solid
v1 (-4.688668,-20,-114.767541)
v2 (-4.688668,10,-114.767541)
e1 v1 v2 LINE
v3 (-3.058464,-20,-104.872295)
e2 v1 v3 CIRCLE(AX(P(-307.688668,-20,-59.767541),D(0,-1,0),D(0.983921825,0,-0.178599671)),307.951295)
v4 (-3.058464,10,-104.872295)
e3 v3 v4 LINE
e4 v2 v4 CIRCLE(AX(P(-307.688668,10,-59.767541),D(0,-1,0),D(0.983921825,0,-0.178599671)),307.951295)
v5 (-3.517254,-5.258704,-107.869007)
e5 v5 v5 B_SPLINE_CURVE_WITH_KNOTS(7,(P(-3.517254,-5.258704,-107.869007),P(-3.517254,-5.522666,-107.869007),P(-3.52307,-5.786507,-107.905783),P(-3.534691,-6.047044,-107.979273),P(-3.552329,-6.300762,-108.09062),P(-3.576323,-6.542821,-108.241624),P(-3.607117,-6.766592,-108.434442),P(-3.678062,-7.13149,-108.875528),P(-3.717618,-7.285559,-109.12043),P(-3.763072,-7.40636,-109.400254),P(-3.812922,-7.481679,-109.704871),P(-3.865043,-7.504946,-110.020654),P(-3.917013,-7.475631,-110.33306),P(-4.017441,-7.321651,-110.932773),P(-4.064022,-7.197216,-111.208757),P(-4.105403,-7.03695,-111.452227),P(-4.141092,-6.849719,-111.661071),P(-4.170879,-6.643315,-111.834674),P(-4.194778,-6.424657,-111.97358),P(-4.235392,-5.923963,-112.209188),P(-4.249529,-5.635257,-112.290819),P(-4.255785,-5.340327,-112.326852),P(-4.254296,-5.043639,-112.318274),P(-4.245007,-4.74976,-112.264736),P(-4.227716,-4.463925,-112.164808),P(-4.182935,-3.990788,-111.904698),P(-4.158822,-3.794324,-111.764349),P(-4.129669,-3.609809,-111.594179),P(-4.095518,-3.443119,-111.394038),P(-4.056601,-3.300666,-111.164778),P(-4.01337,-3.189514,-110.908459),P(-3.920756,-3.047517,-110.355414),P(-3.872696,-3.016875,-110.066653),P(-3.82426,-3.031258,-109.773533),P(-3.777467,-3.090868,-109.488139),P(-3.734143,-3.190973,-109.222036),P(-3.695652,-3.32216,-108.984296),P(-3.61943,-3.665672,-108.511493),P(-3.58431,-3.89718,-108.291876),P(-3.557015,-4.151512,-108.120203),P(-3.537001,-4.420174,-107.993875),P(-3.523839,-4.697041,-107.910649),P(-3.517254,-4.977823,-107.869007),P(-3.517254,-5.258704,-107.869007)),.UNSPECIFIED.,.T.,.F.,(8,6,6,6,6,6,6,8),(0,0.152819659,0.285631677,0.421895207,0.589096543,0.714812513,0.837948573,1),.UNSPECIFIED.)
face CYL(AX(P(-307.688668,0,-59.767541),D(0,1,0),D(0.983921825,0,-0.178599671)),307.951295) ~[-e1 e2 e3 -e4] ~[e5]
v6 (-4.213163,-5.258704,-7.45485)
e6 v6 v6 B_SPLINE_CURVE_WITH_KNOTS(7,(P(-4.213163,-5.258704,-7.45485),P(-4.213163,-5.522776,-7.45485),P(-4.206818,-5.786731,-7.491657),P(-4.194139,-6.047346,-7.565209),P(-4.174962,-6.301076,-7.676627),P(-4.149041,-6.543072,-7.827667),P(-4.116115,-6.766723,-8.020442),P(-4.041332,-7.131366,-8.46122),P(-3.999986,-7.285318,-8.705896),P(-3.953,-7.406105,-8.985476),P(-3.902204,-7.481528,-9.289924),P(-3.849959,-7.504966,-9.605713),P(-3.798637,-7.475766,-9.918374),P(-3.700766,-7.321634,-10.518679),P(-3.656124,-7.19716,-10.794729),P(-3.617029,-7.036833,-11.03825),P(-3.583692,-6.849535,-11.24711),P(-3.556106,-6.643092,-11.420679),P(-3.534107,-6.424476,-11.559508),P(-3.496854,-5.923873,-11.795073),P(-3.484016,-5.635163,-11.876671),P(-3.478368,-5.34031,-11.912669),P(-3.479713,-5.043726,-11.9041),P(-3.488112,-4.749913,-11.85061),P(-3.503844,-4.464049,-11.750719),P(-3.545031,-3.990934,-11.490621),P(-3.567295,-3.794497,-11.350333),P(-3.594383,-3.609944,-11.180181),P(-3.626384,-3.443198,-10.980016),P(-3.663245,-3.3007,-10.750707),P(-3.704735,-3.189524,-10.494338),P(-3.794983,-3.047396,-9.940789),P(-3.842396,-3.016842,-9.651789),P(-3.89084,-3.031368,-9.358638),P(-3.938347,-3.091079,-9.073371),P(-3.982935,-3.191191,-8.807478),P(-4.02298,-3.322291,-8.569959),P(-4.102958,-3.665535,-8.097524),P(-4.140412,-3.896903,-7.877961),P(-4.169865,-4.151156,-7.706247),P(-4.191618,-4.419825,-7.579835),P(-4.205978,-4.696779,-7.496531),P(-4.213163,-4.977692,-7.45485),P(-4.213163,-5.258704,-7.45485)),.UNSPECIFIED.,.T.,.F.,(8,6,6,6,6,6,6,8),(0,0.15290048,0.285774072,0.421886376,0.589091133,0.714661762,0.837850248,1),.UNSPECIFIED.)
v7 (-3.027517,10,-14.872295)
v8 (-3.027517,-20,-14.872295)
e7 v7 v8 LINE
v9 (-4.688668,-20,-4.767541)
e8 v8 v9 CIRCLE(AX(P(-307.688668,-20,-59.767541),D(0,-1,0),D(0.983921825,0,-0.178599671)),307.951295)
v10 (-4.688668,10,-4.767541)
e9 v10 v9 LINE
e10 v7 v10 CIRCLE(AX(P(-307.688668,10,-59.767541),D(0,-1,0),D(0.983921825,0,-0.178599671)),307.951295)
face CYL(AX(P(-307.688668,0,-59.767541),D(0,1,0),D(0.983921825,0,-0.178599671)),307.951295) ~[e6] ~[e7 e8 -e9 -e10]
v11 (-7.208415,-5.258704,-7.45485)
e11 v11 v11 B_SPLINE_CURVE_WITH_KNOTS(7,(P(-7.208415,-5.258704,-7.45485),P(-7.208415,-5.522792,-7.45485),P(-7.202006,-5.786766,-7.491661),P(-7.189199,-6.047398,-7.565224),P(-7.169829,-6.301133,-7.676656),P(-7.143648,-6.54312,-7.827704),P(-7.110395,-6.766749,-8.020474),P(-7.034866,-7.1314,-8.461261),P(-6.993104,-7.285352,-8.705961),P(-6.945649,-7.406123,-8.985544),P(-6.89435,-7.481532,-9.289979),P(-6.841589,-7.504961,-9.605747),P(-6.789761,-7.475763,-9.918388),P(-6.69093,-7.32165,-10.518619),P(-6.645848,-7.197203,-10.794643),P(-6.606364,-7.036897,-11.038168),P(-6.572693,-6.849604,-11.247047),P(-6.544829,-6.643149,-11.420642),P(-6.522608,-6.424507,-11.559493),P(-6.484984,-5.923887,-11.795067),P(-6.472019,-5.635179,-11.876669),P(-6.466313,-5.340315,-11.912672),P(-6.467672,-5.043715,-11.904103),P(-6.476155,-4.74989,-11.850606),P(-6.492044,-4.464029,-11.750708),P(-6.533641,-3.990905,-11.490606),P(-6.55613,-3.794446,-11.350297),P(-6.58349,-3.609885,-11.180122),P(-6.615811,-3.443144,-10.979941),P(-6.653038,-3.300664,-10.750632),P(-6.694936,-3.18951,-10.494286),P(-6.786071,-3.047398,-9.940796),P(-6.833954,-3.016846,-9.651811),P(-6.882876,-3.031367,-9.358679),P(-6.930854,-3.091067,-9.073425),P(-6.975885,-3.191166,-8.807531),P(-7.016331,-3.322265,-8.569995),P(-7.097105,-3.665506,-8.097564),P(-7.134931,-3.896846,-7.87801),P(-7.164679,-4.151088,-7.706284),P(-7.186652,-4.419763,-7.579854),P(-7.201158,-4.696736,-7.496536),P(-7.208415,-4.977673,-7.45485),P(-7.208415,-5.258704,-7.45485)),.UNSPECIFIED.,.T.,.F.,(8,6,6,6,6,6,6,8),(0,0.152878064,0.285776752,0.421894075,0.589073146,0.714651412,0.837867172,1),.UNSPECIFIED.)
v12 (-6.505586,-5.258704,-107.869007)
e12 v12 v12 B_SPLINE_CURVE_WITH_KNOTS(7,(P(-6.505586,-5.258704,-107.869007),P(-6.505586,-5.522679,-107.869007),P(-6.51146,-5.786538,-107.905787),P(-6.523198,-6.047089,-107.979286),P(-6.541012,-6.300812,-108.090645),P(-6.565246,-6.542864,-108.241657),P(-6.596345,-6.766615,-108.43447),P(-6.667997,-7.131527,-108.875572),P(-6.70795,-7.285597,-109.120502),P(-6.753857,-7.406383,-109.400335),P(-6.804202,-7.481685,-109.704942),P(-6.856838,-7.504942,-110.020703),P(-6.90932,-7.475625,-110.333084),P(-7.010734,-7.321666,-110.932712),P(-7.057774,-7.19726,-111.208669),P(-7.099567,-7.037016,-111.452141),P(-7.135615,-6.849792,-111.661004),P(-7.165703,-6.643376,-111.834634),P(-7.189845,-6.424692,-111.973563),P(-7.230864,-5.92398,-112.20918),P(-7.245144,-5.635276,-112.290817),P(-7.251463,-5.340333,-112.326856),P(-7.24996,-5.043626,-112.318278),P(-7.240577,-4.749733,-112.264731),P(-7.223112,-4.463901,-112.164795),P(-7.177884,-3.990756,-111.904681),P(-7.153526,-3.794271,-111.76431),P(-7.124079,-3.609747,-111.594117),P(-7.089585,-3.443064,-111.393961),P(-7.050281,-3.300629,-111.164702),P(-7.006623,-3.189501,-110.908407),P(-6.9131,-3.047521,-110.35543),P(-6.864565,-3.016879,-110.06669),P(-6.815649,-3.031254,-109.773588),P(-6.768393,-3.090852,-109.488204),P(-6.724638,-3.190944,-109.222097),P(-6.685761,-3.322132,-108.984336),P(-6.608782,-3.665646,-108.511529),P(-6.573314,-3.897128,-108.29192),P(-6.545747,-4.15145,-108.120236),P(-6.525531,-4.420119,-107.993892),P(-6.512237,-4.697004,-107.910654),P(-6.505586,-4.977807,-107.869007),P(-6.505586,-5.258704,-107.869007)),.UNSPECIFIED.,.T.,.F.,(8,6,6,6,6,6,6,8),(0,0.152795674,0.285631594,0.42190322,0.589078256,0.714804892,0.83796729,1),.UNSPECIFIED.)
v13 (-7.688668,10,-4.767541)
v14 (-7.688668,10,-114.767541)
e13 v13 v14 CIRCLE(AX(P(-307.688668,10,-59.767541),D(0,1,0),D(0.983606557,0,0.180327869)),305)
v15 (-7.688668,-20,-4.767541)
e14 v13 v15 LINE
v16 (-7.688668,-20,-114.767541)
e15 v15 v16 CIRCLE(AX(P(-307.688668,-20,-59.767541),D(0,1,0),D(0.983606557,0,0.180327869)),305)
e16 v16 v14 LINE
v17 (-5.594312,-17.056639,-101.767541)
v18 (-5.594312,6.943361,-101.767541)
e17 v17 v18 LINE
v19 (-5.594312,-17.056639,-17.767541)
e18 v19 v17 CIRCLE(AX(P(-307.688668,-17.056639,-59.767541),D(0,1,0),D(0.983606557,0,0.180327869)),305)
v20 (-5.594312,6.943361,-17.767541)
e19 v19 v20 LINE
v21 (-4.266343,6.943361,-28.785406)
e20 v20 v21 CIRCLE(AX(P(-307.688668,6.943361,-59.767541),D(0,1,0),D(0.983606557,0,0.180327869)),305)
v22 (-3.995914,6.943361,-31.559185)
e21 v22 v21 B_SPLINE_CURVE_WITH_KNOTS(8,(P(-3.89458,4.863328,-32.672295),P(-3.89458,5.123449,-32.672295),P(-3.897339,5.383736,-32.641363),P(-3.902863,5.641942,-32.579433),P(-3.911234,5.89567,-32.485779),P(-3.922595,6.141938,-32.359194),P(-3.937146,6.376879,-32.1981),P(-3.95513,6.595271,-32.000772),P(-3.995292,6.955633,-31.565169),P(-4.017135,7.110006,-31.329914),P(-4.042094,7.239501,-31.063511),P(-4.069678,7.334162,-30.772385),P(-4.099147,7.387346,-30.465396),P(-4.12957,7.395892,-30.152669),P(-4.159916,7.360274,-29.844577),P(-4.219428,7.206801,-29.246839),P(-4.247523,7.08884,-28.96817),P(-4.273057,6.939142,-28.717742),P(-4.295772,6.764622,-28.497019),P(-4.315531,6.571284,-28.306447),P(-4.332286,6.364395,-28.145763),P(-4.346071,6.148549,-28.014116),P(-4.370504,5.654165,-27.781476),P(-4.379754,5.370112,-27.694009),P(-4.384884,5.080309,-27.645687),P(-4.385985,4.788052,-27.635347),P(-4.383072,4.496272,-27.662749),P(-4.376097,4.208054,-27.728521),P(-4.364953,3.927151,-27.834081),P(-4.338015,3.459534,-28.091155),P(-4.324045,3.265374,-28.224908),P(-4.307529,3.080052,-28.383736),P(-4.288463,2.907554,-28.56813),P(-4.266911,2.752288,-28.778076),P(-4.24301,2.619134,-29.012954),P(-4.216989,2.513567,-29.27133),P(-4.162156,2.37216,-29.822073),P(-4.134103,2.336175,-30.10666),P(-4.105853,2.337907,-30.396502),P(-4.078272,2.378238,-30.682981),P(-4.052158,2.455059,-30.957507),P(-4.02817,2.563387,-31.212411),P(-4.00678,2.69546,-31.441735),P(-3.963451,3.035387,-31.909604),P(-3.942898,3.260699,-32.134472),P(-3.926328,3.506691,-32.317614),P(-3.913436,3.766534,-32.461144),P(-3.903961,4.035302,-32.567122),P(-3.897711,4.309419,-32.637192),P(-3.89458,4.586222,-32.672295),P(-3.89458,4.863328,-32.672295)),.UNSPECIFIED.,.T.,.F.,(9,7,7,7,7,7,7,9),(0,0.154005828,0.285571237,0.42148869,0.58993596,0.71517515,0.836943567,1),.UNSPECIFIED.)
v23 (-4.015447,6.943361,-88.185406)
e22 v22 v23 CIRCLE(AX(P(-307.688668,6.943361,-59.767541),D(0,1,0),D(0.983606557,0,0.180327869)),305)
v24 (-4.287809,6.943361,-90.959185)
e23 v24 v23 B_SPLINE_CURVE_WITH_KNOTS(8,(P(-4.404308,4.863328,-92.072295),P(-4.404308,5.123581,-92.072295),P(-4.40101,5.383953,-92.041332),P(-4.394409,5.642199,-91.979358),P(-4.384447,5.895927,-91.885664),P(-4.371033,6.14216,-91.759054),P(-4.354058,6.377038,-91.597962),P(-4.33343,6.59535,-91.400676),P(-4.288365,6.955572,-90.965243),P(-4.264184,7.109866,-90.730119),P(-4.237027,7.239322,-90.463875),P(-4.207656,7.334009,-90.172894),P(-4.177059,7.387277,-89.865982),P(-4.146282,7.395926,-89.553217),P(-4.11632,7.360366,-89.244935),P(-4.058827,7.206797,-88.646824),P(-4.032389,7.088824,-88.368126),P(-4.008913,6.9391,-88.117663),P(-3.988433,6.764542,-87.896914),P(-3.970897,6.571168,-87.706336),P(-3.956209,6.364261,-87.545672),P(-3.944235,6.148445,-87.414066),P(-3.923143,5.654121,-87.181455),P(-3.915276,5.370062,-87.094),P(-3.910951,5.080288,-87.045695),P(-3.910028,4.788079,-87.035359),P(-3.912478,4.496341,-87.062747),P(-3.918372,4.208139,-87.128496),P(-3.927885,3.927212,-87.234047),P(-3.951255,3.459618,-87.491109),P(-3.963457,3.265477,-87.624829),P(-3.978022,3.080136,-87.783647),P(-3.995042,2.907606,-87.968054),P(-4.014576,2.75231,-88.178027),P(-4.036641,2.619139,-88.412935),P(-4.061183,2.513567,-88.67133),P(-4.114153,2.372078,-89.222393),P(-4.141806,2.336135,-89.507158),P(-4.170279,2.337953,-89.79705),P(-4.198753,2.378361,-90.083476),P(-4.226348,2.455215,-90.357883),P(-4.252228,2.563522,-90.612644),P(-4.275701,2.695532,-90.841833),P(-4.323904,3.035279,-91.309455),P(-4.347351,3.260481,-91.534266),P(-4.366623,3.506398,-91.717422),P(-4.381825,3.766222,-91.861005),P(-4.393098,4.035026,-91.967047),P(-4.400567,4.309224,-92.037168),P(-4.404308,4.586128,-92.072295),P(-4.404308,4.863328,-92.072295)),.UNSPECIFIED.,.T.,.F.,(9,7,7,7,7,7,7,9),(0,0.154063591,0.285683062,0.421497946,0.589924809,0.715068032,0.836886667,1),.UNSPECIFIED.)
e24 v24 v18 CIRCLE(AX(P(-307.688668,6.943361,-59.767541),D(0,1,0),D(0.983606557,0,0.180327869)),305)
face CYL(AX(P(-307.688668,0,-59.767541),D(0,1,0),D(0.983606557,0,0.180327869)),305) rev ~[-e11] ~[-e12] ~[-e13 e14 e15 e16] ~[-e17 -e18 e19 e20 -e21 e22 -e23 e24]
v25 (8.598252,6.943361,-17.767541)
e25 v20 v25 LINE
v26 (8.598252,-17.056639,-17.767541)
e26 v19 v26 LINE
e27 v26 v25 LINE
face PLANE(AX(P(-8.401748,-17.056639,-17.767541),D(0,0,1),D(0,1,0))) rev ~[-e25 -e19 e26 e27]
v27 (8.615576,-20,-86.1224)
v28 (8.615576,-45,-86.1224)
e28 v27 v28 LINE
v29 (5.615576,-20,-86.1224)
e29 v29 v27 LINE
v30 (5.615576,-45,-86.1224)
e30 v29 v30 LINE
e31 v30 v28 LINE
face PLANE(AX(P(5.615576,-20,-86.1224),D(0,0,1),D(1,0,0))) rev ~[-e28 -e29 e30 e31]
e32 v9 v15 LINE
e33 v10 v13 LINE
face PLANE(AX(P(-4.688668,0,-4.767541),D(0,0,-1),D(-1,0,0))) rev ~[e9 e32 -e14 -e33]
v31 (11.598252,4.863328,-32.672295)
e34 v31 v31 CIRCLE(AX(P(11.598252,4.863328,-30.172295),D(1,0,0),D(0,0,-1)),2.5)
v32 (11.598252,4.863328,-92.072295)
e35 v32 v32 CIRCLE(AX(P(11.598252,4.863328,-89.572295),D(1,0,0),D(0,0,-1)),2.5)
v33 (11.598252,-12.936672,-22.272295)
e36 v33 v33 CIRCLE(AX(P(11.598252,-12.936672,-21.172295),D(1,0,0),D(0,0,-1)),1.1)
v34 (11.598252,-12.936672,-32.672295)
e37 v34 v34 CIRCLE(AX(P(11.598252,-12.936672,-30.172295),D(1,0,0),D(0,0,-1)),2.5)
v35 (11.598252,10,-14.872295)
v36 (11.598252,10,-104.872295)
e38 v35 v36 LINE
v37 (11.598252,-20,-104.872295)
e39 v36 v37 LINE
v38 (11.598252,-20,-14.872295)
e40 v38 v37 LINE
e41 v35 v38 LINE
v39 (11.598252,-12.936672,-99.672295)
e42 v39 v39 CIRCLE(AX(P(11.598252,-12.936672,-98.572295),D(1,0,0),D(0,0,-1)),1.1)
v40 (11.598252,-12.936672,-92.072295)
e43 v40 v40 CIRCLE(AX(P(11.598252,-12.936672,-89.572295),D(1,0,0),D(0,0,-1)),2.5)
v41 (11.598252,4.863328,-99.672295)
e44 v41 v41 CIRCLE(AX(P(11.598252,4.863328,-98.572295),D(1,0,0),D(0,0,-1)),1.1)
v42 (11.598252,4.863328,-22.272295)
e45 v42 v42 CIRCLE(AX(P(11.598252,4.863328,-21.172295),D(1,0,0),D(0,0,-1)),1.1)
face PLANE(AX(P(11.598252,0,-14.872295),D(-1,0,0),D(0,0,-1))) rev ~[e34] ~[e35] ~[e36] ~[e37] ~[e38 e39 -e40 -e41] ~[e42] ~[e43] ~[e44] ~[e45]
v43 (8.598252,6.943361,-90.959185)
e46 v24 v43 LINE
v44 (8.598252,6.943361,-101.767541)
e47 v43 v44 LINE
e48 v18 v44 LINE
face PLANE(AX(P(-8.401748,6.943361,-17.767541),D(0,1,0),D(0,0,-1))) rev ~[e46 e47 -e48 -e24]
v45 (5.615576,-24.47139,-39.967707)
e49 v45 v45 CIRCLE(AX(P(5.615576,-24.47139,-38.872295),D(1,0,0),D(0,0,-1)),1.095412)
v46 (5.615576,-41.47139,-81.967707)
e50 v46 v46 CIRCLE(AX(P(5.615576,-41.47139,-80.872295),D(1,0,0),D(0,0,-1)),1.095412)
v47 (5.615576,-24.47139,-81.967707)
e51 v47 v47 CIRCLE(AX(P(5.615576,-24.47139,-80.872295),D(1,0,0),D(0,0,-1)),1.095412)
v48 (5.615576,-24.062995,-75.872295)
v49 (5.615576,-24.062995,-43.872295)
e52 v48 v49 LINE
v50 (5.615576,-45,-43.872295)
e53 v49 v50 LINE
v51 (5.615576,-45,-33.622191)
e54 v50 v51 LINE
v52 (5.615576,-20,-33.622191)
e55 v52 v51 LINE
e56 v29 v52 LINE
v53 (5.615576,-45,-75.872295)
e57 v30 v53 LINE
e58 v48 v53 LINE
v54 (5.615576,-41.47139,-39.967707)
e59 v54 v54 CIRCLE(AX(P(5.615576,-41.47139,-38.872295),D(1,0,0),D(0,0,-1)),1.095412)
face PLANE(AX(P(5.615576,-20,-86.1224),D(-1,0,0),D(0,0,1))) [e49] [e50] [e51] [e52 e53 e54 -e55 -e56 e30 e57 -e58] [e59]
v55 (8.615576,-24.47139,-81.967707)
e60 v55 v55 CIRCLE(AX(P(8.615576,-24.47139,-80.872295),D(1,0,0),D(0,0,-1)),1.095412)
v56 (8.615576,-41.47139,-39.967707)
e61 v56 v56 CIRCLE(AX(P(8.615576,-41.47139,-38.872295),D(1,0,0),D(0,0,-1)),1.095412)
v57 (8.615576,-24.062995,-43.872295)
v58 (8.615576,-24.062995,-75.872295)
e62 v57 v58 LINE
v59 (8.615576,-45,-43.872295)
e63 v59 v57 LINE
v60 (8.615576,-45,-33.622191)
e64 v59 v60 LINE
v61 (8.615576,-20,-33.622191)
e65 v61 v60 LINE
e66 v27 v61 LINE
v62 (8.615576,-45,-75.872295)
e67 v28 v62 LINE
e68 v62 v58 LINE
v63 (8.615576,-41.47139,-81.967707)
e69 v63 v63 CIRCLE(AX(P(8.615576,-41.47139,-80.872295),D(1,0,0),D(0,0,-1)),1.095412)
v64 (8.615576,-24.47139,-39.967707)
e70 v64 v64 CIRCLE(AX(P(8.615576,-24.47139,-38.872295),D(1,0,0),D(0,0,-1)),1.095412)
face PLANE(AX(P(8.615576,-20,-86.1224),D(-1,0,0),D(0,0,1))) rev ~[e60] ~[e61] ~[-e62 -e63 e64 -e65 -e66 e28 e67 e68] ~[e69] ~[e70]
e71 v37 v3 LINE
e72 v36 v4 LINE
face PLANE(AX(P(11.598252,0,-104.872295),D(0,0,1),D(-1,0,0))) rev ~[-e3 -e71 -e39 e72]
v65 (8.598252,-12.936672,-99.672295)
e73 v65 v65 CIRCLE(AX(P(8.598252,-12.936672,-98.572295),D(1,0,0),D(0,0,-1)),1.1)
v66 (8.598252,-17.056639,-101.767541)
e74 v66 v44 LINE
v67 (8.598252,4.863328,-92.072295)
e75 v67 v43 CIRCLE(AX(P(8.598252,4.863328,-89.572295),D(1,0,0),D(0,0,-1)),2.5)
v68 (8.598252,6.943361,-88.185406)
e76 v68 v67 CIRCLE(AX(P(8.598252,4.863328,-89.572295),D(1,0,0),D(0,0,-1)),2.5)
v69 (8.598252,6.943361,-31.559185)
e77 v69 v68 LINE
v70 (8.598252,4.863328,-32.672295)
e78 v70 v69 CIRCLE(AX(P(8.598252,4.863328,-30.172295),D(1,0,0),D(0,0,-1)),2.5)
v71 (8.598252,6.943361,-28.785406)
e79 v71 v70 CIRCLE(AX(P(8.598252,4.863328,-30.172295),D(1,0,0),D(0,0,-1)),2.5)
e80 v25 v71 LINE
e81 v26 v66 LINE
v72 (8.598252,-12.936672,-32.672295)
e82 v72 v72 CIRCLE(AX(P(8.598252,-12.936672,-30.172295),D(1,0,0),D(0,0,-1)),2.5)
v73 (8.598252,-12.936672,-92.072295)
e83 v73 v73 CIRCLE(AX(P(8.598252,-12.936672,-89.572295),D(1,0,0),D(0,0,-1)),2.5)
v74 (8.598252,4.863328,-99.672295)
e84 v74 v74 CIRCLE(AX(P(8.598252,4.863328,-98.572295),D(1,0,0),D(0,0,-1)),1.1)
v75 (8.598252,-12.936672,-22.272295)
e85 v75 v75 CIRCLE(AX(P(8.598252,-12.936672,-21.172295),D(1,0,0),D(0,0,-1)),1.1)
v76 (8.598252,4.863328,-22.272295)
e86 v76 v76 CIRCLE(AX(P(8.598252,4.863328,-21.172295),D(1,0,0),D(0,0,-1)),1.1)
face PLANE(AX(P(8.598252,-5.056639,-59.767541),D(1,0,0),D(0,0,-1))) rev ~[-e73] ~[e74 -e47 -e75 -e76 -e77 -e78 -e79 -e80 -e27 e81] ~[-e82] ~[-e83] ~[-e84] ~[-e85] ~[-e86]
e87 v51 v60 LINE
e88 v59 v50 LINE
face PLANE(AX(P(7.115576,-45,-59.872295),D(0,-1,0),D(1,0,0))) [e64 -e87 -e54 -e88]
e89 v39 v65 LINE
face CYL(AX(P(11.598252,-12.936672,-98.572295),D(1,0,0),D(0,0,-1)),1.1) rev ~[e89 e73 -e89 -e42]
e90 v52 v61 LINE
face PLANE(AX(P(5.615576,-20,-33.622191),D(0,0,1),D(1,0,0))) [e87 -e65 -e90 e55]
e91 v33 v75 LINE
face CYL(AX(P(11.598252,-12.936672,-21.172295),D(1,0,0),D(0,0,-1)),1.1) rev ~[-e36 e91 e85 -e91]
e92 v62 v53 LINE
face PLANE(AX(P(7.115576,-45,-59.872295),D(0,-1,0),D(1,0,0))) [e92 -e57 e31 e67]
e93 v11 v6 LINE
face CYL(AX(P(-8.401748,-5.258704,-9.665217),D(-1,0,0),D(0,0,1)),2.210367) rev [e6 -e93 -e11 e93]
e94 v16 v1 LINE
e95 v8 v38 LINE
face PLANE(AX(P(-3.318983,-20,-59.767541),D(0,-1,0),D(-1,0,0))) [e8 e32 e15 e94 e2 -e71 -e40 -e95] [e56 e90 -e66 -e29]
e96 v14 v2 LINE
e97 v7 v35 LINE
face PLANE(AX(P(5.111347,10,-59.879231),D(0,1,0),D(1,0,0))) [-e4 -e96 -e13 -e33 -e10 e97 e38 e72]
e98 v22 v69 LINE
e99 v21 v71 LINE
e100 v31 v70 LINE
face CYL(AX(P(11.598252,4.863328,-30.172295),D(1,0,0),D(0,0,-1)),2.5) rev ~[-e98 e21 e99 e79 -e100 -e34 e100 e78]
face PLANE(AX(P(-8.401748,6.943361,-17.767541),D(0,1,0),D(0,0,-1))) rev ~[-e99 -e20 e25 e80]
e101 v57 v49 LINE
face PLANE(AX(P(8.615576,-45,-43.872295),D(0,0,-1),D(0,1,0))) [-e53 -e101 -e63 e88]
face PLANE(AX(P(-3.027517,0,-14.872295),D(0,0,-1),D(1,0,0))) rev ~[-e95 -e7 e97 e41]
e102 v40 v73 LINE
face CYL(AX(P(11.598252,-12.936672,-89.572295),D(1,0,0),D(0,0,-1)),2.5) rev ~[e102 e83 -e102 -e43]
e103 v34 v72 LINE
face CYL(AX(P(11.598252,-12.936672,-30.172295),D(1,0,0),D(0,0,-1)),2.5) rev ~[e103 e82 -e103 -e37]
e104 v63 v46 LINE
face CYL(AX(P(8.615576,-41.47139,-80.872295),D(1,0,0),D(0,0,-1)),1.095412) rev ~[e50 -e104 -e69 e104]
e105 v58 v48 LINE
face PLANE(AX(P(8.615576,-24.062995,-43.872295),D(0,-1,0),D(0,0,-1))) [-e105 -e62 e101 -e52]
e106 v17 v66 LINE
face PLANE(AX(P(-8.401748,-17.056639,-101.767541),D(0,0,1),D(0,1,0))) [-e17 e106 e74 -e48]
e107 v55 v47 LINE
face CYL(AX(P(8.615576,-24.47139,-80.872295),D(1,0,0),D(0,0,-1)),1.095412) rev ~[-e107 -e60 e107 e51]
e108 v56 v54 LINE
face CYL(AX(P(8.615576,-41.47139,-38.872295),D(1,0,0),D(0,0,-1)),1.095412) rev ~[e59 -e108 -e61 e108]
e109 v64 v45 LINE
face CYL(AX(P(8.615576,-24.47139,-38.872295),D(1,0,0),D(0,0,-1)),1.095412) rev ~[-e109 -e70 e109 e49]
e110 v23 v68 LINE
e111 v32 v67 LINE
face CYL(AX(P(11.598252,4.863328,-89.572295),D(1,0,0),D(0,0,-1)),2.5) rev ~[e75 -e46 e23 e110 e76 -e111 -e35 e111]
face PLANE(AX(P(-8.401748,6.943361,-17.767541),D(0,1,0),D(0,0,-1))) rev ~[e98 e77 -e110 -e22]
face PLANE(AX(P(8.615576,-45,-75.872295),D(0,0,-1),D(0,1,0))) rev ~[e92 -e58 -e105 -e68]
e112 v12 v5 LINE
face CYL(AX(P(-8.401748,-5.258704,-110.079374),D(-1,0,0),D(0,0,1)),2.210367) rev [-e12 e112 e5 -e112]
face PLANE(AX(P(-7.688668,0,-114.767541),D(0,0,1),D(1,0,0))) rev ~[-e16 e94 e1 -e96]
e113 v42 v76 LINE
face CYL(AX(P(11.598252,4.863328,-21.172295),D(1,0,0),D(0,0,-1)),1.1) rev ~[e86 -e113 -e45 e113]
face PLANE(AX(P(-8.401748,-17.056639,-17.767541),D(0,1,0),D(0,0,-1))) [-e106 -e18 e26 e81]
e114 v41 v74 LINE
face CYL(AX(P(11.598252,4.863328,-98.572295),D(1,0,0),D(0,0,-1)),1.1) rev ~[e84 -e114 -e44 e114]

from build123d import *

# Parameters (mm, degrees)
EXTRUDE_1_DEPTH      = 10
EXTRUDE_1_DEPTH_BACK = 20
EXTRUDE_2_DEPTH      = 20
EXTRUDE_3_DEPTH      = 10
SKETCH_5_W           = 84
SKETCH_5_H           = 24
CUT_EXTRUDE_1_DEPTH  = 17
SKETCH_4_R           = 2.5
SKETCH_4_R_2         = 1.1
CUT_EXTRUDE_2_DEPTH  = 17
SKETCH_6_R           = 2.210367197
CUT_EXTRUDE_3_DEPTH  = 8
SKETCH_7_W           = 3
SKETCH_7_H           = 52.500208742
EXTRUDE_4_DEPTH      = 25
SKETCH_8_R           = 1.095411725
SKETCH_8_W           = 32
SKETCH_8_H           = 20.937005418
CUT_EXTRUDE_6_DEPTH  = 5


with BuildPart() as part:
    # Sketch 1 → Extrude 1 (new body, two sides)
    with BuildSketch(Plane(origin=(0, 0, 0), x_dir=(1, 0, 0), z_dir=(0, 1, 0))) as extrude_1_sk:
        with BuildLine():
            ThreePointArc((-4.68866799, 114.767541166), (0.26262686, 59.767541166), (-4.68866799, 4.767541166))
            Line((-4.68866799, 4.767541166), (-7.68866799, 4.767541166))
            ThreePointArc((-7.68866799, 4.767541166), (-2.68866799, 59.767541166), (-7.68866799, 114.767541166))
            Line((-7.68866799, 114.767541166), (-4.68866799, 114.767541166))
        make_face()
    extrude(amount=EXTRUDE_1_DEPTH)
    extrude(extrude_1_sk.sketch, amount=-EXTRUDE_1_DEPTH_BACK)



with BuildPart() as body_2:
    # Sketch 1_3 → Extrude 2 (new body)
    with BuildSketch(Plane(origin=(0, 0, 0), x_dir=(1, 0, 0), z_dir=(0, 1, 0))):
        with BuildLine():
            Line((11.598251721, 104.872295398), (-3.058464061, 104.872295398))
            ThreePointArc((-3.058464061, 104.872295398), (0.262608655, 59.873432048), (-3.027517025, 14.872295398))
            Line((-3.027517025, 14.872295398), (11.598251721, 14.872295398))
            Line((11.598251721, 14.872295398), (11.598251721, 104.872295398))
        make_face()
    extrude(amount=-EXTRUDE_2_DEPTH)


with BuildPart() as part_1:
    add(part.part)

    add(body_2.part)  # Extrude 3 merges body 2
    # Sketch 1_4 → Extrude 3 (add)
    with BuildSketch(Plane(origin=(0, 0, 0), x_dir=(1, 0, 0), z_dir=(0, 1, 0))):
        with BuildLine():
            Line((11.598251721, 104.872295398), (-3.058464061, 104.872295398))
            ThreePointArc((-3.058464061, 104.872295398), (0.262608655, 59.873432048), (-3.027517025, 14.872295398))
            Line((-3.027517025, 14.872295398), (11.598251721, 14.872295398))
            Line((11.598251721, 14.872295398), (11.598251721, 104.872295398))
        make_face()
    extrude(amount=EXTRUDE_3_DEPTH)

    # Sketch 5 → Cut-Extrude 1 (cut)
    with BuildSketch(Plane(origin=(-8.401748279, 0, 0), x_dir=(0, 0, -1), z_dir=(1, 0, 0))):
        with Locations((59.767541166, -5.056638817)):
            Rectangle(SKETCH_5_W, SKETCH_5_H)
    extrude(amount=CUT_EXTRUDE_1_DEPTH, mode=Mode.SUBTRACT)

    # Sketch 4 → Cut-Extrude 2 (cut)
    with BuildSketch(Plane(origin=(11.598251721, 0, 0), x_dir=(0, 0, -1), z_dir=(1, 0, 0))):
        with Locations((30.172295398, 4.863328118)):
            Circle(SKETCH_4_R)
        with Locations((89.572295398, 4.863328118)):
            Circle(SKETCH_4_R)
        with Locations((89.572295398, -12.936671882)):
            Circle(SKETCH_4_R)
        with Locations((30.172295398, -12.936671882)):
            Circle(SKETCH_4_R)
        with Locations((21.172295398, -12.936671882)):
            Circle(SKETCH_4_R_2)
        with Locations((21.172295398, 4.863328118)):
            Circle(SKETCH_4_R_2)
        with Locations((98.572295398, 4.863328118)):
            Circle(SKETCH_4_R_2)
        with Locations((98.572295398, -12.936671882)):
            Circle(SKETCH_4_R_2)
    extrude(amount=-CUT_EXTRUDE_2_DEPTH, mode=Mode.SUBTRACT)

    # Sketch 6 → Cut-Extrude 3 (cut)
    with BuildSketch(Plane(origin=(-8.401748279, 0, 0), x_dir=(0, 0, -1), z_dir=(1, 0, 0))):
        with Locations(Location((9.665216794, -5.258703912, 0), (0, 0, 180))):  # turned: the seam where the file's is
            Circle(SKETCH_6_R)
        with Locations(Location((110.079374003, -5.258703912, 0), (0, 0, 180))):  # turned: the seam where the file's is
            Circle(SKETCH_6_R)
    extrude(amount=CUT_EXTRUDE_3_DEPTH, mode=Mode.SUBTRACT)

    # Sketch 7 → Extrude 4 (add)
    with BuildSketch(Plane.XZ.offset(20)):
        with Locations((7.115575895, -59.872295398)):
            Rectangle(SKETCH_7_W, SKETCH_7_H)
    extrude(amount=EXTRUDE_4_DEPTH)

    # Sketch 8 → Cut-Extrude 6 (cut)
    with BuildSketch(Plane(origin=(8.615575895, 0, 0), x_dir=(0, 0, -1), z_dir=(1, 0, 0))):
        with Locations((38.872295398, -24.471390048)):
            Circle(SKETCH_8_R)
        with Locations((38.872295398, -41.471390048)):
            Circle(SKETCH_8_R)
        with Locations((80.872295398, -41.471390048)):
            Circle(SKETCH_8_R)
        with Locations((80.872295398, -24.471390048)):
            Circle(SKETCH_8_R)
        with Locations((59.872295398, -34.531497291)):
            Rectangle(SKETCH_8_W, SKETCH_8_H)
    extrude(amount=-CUT_EXTRUDE_6_DEPTH, mode=Mode.SUBTRACT)


solid = part_1.part
